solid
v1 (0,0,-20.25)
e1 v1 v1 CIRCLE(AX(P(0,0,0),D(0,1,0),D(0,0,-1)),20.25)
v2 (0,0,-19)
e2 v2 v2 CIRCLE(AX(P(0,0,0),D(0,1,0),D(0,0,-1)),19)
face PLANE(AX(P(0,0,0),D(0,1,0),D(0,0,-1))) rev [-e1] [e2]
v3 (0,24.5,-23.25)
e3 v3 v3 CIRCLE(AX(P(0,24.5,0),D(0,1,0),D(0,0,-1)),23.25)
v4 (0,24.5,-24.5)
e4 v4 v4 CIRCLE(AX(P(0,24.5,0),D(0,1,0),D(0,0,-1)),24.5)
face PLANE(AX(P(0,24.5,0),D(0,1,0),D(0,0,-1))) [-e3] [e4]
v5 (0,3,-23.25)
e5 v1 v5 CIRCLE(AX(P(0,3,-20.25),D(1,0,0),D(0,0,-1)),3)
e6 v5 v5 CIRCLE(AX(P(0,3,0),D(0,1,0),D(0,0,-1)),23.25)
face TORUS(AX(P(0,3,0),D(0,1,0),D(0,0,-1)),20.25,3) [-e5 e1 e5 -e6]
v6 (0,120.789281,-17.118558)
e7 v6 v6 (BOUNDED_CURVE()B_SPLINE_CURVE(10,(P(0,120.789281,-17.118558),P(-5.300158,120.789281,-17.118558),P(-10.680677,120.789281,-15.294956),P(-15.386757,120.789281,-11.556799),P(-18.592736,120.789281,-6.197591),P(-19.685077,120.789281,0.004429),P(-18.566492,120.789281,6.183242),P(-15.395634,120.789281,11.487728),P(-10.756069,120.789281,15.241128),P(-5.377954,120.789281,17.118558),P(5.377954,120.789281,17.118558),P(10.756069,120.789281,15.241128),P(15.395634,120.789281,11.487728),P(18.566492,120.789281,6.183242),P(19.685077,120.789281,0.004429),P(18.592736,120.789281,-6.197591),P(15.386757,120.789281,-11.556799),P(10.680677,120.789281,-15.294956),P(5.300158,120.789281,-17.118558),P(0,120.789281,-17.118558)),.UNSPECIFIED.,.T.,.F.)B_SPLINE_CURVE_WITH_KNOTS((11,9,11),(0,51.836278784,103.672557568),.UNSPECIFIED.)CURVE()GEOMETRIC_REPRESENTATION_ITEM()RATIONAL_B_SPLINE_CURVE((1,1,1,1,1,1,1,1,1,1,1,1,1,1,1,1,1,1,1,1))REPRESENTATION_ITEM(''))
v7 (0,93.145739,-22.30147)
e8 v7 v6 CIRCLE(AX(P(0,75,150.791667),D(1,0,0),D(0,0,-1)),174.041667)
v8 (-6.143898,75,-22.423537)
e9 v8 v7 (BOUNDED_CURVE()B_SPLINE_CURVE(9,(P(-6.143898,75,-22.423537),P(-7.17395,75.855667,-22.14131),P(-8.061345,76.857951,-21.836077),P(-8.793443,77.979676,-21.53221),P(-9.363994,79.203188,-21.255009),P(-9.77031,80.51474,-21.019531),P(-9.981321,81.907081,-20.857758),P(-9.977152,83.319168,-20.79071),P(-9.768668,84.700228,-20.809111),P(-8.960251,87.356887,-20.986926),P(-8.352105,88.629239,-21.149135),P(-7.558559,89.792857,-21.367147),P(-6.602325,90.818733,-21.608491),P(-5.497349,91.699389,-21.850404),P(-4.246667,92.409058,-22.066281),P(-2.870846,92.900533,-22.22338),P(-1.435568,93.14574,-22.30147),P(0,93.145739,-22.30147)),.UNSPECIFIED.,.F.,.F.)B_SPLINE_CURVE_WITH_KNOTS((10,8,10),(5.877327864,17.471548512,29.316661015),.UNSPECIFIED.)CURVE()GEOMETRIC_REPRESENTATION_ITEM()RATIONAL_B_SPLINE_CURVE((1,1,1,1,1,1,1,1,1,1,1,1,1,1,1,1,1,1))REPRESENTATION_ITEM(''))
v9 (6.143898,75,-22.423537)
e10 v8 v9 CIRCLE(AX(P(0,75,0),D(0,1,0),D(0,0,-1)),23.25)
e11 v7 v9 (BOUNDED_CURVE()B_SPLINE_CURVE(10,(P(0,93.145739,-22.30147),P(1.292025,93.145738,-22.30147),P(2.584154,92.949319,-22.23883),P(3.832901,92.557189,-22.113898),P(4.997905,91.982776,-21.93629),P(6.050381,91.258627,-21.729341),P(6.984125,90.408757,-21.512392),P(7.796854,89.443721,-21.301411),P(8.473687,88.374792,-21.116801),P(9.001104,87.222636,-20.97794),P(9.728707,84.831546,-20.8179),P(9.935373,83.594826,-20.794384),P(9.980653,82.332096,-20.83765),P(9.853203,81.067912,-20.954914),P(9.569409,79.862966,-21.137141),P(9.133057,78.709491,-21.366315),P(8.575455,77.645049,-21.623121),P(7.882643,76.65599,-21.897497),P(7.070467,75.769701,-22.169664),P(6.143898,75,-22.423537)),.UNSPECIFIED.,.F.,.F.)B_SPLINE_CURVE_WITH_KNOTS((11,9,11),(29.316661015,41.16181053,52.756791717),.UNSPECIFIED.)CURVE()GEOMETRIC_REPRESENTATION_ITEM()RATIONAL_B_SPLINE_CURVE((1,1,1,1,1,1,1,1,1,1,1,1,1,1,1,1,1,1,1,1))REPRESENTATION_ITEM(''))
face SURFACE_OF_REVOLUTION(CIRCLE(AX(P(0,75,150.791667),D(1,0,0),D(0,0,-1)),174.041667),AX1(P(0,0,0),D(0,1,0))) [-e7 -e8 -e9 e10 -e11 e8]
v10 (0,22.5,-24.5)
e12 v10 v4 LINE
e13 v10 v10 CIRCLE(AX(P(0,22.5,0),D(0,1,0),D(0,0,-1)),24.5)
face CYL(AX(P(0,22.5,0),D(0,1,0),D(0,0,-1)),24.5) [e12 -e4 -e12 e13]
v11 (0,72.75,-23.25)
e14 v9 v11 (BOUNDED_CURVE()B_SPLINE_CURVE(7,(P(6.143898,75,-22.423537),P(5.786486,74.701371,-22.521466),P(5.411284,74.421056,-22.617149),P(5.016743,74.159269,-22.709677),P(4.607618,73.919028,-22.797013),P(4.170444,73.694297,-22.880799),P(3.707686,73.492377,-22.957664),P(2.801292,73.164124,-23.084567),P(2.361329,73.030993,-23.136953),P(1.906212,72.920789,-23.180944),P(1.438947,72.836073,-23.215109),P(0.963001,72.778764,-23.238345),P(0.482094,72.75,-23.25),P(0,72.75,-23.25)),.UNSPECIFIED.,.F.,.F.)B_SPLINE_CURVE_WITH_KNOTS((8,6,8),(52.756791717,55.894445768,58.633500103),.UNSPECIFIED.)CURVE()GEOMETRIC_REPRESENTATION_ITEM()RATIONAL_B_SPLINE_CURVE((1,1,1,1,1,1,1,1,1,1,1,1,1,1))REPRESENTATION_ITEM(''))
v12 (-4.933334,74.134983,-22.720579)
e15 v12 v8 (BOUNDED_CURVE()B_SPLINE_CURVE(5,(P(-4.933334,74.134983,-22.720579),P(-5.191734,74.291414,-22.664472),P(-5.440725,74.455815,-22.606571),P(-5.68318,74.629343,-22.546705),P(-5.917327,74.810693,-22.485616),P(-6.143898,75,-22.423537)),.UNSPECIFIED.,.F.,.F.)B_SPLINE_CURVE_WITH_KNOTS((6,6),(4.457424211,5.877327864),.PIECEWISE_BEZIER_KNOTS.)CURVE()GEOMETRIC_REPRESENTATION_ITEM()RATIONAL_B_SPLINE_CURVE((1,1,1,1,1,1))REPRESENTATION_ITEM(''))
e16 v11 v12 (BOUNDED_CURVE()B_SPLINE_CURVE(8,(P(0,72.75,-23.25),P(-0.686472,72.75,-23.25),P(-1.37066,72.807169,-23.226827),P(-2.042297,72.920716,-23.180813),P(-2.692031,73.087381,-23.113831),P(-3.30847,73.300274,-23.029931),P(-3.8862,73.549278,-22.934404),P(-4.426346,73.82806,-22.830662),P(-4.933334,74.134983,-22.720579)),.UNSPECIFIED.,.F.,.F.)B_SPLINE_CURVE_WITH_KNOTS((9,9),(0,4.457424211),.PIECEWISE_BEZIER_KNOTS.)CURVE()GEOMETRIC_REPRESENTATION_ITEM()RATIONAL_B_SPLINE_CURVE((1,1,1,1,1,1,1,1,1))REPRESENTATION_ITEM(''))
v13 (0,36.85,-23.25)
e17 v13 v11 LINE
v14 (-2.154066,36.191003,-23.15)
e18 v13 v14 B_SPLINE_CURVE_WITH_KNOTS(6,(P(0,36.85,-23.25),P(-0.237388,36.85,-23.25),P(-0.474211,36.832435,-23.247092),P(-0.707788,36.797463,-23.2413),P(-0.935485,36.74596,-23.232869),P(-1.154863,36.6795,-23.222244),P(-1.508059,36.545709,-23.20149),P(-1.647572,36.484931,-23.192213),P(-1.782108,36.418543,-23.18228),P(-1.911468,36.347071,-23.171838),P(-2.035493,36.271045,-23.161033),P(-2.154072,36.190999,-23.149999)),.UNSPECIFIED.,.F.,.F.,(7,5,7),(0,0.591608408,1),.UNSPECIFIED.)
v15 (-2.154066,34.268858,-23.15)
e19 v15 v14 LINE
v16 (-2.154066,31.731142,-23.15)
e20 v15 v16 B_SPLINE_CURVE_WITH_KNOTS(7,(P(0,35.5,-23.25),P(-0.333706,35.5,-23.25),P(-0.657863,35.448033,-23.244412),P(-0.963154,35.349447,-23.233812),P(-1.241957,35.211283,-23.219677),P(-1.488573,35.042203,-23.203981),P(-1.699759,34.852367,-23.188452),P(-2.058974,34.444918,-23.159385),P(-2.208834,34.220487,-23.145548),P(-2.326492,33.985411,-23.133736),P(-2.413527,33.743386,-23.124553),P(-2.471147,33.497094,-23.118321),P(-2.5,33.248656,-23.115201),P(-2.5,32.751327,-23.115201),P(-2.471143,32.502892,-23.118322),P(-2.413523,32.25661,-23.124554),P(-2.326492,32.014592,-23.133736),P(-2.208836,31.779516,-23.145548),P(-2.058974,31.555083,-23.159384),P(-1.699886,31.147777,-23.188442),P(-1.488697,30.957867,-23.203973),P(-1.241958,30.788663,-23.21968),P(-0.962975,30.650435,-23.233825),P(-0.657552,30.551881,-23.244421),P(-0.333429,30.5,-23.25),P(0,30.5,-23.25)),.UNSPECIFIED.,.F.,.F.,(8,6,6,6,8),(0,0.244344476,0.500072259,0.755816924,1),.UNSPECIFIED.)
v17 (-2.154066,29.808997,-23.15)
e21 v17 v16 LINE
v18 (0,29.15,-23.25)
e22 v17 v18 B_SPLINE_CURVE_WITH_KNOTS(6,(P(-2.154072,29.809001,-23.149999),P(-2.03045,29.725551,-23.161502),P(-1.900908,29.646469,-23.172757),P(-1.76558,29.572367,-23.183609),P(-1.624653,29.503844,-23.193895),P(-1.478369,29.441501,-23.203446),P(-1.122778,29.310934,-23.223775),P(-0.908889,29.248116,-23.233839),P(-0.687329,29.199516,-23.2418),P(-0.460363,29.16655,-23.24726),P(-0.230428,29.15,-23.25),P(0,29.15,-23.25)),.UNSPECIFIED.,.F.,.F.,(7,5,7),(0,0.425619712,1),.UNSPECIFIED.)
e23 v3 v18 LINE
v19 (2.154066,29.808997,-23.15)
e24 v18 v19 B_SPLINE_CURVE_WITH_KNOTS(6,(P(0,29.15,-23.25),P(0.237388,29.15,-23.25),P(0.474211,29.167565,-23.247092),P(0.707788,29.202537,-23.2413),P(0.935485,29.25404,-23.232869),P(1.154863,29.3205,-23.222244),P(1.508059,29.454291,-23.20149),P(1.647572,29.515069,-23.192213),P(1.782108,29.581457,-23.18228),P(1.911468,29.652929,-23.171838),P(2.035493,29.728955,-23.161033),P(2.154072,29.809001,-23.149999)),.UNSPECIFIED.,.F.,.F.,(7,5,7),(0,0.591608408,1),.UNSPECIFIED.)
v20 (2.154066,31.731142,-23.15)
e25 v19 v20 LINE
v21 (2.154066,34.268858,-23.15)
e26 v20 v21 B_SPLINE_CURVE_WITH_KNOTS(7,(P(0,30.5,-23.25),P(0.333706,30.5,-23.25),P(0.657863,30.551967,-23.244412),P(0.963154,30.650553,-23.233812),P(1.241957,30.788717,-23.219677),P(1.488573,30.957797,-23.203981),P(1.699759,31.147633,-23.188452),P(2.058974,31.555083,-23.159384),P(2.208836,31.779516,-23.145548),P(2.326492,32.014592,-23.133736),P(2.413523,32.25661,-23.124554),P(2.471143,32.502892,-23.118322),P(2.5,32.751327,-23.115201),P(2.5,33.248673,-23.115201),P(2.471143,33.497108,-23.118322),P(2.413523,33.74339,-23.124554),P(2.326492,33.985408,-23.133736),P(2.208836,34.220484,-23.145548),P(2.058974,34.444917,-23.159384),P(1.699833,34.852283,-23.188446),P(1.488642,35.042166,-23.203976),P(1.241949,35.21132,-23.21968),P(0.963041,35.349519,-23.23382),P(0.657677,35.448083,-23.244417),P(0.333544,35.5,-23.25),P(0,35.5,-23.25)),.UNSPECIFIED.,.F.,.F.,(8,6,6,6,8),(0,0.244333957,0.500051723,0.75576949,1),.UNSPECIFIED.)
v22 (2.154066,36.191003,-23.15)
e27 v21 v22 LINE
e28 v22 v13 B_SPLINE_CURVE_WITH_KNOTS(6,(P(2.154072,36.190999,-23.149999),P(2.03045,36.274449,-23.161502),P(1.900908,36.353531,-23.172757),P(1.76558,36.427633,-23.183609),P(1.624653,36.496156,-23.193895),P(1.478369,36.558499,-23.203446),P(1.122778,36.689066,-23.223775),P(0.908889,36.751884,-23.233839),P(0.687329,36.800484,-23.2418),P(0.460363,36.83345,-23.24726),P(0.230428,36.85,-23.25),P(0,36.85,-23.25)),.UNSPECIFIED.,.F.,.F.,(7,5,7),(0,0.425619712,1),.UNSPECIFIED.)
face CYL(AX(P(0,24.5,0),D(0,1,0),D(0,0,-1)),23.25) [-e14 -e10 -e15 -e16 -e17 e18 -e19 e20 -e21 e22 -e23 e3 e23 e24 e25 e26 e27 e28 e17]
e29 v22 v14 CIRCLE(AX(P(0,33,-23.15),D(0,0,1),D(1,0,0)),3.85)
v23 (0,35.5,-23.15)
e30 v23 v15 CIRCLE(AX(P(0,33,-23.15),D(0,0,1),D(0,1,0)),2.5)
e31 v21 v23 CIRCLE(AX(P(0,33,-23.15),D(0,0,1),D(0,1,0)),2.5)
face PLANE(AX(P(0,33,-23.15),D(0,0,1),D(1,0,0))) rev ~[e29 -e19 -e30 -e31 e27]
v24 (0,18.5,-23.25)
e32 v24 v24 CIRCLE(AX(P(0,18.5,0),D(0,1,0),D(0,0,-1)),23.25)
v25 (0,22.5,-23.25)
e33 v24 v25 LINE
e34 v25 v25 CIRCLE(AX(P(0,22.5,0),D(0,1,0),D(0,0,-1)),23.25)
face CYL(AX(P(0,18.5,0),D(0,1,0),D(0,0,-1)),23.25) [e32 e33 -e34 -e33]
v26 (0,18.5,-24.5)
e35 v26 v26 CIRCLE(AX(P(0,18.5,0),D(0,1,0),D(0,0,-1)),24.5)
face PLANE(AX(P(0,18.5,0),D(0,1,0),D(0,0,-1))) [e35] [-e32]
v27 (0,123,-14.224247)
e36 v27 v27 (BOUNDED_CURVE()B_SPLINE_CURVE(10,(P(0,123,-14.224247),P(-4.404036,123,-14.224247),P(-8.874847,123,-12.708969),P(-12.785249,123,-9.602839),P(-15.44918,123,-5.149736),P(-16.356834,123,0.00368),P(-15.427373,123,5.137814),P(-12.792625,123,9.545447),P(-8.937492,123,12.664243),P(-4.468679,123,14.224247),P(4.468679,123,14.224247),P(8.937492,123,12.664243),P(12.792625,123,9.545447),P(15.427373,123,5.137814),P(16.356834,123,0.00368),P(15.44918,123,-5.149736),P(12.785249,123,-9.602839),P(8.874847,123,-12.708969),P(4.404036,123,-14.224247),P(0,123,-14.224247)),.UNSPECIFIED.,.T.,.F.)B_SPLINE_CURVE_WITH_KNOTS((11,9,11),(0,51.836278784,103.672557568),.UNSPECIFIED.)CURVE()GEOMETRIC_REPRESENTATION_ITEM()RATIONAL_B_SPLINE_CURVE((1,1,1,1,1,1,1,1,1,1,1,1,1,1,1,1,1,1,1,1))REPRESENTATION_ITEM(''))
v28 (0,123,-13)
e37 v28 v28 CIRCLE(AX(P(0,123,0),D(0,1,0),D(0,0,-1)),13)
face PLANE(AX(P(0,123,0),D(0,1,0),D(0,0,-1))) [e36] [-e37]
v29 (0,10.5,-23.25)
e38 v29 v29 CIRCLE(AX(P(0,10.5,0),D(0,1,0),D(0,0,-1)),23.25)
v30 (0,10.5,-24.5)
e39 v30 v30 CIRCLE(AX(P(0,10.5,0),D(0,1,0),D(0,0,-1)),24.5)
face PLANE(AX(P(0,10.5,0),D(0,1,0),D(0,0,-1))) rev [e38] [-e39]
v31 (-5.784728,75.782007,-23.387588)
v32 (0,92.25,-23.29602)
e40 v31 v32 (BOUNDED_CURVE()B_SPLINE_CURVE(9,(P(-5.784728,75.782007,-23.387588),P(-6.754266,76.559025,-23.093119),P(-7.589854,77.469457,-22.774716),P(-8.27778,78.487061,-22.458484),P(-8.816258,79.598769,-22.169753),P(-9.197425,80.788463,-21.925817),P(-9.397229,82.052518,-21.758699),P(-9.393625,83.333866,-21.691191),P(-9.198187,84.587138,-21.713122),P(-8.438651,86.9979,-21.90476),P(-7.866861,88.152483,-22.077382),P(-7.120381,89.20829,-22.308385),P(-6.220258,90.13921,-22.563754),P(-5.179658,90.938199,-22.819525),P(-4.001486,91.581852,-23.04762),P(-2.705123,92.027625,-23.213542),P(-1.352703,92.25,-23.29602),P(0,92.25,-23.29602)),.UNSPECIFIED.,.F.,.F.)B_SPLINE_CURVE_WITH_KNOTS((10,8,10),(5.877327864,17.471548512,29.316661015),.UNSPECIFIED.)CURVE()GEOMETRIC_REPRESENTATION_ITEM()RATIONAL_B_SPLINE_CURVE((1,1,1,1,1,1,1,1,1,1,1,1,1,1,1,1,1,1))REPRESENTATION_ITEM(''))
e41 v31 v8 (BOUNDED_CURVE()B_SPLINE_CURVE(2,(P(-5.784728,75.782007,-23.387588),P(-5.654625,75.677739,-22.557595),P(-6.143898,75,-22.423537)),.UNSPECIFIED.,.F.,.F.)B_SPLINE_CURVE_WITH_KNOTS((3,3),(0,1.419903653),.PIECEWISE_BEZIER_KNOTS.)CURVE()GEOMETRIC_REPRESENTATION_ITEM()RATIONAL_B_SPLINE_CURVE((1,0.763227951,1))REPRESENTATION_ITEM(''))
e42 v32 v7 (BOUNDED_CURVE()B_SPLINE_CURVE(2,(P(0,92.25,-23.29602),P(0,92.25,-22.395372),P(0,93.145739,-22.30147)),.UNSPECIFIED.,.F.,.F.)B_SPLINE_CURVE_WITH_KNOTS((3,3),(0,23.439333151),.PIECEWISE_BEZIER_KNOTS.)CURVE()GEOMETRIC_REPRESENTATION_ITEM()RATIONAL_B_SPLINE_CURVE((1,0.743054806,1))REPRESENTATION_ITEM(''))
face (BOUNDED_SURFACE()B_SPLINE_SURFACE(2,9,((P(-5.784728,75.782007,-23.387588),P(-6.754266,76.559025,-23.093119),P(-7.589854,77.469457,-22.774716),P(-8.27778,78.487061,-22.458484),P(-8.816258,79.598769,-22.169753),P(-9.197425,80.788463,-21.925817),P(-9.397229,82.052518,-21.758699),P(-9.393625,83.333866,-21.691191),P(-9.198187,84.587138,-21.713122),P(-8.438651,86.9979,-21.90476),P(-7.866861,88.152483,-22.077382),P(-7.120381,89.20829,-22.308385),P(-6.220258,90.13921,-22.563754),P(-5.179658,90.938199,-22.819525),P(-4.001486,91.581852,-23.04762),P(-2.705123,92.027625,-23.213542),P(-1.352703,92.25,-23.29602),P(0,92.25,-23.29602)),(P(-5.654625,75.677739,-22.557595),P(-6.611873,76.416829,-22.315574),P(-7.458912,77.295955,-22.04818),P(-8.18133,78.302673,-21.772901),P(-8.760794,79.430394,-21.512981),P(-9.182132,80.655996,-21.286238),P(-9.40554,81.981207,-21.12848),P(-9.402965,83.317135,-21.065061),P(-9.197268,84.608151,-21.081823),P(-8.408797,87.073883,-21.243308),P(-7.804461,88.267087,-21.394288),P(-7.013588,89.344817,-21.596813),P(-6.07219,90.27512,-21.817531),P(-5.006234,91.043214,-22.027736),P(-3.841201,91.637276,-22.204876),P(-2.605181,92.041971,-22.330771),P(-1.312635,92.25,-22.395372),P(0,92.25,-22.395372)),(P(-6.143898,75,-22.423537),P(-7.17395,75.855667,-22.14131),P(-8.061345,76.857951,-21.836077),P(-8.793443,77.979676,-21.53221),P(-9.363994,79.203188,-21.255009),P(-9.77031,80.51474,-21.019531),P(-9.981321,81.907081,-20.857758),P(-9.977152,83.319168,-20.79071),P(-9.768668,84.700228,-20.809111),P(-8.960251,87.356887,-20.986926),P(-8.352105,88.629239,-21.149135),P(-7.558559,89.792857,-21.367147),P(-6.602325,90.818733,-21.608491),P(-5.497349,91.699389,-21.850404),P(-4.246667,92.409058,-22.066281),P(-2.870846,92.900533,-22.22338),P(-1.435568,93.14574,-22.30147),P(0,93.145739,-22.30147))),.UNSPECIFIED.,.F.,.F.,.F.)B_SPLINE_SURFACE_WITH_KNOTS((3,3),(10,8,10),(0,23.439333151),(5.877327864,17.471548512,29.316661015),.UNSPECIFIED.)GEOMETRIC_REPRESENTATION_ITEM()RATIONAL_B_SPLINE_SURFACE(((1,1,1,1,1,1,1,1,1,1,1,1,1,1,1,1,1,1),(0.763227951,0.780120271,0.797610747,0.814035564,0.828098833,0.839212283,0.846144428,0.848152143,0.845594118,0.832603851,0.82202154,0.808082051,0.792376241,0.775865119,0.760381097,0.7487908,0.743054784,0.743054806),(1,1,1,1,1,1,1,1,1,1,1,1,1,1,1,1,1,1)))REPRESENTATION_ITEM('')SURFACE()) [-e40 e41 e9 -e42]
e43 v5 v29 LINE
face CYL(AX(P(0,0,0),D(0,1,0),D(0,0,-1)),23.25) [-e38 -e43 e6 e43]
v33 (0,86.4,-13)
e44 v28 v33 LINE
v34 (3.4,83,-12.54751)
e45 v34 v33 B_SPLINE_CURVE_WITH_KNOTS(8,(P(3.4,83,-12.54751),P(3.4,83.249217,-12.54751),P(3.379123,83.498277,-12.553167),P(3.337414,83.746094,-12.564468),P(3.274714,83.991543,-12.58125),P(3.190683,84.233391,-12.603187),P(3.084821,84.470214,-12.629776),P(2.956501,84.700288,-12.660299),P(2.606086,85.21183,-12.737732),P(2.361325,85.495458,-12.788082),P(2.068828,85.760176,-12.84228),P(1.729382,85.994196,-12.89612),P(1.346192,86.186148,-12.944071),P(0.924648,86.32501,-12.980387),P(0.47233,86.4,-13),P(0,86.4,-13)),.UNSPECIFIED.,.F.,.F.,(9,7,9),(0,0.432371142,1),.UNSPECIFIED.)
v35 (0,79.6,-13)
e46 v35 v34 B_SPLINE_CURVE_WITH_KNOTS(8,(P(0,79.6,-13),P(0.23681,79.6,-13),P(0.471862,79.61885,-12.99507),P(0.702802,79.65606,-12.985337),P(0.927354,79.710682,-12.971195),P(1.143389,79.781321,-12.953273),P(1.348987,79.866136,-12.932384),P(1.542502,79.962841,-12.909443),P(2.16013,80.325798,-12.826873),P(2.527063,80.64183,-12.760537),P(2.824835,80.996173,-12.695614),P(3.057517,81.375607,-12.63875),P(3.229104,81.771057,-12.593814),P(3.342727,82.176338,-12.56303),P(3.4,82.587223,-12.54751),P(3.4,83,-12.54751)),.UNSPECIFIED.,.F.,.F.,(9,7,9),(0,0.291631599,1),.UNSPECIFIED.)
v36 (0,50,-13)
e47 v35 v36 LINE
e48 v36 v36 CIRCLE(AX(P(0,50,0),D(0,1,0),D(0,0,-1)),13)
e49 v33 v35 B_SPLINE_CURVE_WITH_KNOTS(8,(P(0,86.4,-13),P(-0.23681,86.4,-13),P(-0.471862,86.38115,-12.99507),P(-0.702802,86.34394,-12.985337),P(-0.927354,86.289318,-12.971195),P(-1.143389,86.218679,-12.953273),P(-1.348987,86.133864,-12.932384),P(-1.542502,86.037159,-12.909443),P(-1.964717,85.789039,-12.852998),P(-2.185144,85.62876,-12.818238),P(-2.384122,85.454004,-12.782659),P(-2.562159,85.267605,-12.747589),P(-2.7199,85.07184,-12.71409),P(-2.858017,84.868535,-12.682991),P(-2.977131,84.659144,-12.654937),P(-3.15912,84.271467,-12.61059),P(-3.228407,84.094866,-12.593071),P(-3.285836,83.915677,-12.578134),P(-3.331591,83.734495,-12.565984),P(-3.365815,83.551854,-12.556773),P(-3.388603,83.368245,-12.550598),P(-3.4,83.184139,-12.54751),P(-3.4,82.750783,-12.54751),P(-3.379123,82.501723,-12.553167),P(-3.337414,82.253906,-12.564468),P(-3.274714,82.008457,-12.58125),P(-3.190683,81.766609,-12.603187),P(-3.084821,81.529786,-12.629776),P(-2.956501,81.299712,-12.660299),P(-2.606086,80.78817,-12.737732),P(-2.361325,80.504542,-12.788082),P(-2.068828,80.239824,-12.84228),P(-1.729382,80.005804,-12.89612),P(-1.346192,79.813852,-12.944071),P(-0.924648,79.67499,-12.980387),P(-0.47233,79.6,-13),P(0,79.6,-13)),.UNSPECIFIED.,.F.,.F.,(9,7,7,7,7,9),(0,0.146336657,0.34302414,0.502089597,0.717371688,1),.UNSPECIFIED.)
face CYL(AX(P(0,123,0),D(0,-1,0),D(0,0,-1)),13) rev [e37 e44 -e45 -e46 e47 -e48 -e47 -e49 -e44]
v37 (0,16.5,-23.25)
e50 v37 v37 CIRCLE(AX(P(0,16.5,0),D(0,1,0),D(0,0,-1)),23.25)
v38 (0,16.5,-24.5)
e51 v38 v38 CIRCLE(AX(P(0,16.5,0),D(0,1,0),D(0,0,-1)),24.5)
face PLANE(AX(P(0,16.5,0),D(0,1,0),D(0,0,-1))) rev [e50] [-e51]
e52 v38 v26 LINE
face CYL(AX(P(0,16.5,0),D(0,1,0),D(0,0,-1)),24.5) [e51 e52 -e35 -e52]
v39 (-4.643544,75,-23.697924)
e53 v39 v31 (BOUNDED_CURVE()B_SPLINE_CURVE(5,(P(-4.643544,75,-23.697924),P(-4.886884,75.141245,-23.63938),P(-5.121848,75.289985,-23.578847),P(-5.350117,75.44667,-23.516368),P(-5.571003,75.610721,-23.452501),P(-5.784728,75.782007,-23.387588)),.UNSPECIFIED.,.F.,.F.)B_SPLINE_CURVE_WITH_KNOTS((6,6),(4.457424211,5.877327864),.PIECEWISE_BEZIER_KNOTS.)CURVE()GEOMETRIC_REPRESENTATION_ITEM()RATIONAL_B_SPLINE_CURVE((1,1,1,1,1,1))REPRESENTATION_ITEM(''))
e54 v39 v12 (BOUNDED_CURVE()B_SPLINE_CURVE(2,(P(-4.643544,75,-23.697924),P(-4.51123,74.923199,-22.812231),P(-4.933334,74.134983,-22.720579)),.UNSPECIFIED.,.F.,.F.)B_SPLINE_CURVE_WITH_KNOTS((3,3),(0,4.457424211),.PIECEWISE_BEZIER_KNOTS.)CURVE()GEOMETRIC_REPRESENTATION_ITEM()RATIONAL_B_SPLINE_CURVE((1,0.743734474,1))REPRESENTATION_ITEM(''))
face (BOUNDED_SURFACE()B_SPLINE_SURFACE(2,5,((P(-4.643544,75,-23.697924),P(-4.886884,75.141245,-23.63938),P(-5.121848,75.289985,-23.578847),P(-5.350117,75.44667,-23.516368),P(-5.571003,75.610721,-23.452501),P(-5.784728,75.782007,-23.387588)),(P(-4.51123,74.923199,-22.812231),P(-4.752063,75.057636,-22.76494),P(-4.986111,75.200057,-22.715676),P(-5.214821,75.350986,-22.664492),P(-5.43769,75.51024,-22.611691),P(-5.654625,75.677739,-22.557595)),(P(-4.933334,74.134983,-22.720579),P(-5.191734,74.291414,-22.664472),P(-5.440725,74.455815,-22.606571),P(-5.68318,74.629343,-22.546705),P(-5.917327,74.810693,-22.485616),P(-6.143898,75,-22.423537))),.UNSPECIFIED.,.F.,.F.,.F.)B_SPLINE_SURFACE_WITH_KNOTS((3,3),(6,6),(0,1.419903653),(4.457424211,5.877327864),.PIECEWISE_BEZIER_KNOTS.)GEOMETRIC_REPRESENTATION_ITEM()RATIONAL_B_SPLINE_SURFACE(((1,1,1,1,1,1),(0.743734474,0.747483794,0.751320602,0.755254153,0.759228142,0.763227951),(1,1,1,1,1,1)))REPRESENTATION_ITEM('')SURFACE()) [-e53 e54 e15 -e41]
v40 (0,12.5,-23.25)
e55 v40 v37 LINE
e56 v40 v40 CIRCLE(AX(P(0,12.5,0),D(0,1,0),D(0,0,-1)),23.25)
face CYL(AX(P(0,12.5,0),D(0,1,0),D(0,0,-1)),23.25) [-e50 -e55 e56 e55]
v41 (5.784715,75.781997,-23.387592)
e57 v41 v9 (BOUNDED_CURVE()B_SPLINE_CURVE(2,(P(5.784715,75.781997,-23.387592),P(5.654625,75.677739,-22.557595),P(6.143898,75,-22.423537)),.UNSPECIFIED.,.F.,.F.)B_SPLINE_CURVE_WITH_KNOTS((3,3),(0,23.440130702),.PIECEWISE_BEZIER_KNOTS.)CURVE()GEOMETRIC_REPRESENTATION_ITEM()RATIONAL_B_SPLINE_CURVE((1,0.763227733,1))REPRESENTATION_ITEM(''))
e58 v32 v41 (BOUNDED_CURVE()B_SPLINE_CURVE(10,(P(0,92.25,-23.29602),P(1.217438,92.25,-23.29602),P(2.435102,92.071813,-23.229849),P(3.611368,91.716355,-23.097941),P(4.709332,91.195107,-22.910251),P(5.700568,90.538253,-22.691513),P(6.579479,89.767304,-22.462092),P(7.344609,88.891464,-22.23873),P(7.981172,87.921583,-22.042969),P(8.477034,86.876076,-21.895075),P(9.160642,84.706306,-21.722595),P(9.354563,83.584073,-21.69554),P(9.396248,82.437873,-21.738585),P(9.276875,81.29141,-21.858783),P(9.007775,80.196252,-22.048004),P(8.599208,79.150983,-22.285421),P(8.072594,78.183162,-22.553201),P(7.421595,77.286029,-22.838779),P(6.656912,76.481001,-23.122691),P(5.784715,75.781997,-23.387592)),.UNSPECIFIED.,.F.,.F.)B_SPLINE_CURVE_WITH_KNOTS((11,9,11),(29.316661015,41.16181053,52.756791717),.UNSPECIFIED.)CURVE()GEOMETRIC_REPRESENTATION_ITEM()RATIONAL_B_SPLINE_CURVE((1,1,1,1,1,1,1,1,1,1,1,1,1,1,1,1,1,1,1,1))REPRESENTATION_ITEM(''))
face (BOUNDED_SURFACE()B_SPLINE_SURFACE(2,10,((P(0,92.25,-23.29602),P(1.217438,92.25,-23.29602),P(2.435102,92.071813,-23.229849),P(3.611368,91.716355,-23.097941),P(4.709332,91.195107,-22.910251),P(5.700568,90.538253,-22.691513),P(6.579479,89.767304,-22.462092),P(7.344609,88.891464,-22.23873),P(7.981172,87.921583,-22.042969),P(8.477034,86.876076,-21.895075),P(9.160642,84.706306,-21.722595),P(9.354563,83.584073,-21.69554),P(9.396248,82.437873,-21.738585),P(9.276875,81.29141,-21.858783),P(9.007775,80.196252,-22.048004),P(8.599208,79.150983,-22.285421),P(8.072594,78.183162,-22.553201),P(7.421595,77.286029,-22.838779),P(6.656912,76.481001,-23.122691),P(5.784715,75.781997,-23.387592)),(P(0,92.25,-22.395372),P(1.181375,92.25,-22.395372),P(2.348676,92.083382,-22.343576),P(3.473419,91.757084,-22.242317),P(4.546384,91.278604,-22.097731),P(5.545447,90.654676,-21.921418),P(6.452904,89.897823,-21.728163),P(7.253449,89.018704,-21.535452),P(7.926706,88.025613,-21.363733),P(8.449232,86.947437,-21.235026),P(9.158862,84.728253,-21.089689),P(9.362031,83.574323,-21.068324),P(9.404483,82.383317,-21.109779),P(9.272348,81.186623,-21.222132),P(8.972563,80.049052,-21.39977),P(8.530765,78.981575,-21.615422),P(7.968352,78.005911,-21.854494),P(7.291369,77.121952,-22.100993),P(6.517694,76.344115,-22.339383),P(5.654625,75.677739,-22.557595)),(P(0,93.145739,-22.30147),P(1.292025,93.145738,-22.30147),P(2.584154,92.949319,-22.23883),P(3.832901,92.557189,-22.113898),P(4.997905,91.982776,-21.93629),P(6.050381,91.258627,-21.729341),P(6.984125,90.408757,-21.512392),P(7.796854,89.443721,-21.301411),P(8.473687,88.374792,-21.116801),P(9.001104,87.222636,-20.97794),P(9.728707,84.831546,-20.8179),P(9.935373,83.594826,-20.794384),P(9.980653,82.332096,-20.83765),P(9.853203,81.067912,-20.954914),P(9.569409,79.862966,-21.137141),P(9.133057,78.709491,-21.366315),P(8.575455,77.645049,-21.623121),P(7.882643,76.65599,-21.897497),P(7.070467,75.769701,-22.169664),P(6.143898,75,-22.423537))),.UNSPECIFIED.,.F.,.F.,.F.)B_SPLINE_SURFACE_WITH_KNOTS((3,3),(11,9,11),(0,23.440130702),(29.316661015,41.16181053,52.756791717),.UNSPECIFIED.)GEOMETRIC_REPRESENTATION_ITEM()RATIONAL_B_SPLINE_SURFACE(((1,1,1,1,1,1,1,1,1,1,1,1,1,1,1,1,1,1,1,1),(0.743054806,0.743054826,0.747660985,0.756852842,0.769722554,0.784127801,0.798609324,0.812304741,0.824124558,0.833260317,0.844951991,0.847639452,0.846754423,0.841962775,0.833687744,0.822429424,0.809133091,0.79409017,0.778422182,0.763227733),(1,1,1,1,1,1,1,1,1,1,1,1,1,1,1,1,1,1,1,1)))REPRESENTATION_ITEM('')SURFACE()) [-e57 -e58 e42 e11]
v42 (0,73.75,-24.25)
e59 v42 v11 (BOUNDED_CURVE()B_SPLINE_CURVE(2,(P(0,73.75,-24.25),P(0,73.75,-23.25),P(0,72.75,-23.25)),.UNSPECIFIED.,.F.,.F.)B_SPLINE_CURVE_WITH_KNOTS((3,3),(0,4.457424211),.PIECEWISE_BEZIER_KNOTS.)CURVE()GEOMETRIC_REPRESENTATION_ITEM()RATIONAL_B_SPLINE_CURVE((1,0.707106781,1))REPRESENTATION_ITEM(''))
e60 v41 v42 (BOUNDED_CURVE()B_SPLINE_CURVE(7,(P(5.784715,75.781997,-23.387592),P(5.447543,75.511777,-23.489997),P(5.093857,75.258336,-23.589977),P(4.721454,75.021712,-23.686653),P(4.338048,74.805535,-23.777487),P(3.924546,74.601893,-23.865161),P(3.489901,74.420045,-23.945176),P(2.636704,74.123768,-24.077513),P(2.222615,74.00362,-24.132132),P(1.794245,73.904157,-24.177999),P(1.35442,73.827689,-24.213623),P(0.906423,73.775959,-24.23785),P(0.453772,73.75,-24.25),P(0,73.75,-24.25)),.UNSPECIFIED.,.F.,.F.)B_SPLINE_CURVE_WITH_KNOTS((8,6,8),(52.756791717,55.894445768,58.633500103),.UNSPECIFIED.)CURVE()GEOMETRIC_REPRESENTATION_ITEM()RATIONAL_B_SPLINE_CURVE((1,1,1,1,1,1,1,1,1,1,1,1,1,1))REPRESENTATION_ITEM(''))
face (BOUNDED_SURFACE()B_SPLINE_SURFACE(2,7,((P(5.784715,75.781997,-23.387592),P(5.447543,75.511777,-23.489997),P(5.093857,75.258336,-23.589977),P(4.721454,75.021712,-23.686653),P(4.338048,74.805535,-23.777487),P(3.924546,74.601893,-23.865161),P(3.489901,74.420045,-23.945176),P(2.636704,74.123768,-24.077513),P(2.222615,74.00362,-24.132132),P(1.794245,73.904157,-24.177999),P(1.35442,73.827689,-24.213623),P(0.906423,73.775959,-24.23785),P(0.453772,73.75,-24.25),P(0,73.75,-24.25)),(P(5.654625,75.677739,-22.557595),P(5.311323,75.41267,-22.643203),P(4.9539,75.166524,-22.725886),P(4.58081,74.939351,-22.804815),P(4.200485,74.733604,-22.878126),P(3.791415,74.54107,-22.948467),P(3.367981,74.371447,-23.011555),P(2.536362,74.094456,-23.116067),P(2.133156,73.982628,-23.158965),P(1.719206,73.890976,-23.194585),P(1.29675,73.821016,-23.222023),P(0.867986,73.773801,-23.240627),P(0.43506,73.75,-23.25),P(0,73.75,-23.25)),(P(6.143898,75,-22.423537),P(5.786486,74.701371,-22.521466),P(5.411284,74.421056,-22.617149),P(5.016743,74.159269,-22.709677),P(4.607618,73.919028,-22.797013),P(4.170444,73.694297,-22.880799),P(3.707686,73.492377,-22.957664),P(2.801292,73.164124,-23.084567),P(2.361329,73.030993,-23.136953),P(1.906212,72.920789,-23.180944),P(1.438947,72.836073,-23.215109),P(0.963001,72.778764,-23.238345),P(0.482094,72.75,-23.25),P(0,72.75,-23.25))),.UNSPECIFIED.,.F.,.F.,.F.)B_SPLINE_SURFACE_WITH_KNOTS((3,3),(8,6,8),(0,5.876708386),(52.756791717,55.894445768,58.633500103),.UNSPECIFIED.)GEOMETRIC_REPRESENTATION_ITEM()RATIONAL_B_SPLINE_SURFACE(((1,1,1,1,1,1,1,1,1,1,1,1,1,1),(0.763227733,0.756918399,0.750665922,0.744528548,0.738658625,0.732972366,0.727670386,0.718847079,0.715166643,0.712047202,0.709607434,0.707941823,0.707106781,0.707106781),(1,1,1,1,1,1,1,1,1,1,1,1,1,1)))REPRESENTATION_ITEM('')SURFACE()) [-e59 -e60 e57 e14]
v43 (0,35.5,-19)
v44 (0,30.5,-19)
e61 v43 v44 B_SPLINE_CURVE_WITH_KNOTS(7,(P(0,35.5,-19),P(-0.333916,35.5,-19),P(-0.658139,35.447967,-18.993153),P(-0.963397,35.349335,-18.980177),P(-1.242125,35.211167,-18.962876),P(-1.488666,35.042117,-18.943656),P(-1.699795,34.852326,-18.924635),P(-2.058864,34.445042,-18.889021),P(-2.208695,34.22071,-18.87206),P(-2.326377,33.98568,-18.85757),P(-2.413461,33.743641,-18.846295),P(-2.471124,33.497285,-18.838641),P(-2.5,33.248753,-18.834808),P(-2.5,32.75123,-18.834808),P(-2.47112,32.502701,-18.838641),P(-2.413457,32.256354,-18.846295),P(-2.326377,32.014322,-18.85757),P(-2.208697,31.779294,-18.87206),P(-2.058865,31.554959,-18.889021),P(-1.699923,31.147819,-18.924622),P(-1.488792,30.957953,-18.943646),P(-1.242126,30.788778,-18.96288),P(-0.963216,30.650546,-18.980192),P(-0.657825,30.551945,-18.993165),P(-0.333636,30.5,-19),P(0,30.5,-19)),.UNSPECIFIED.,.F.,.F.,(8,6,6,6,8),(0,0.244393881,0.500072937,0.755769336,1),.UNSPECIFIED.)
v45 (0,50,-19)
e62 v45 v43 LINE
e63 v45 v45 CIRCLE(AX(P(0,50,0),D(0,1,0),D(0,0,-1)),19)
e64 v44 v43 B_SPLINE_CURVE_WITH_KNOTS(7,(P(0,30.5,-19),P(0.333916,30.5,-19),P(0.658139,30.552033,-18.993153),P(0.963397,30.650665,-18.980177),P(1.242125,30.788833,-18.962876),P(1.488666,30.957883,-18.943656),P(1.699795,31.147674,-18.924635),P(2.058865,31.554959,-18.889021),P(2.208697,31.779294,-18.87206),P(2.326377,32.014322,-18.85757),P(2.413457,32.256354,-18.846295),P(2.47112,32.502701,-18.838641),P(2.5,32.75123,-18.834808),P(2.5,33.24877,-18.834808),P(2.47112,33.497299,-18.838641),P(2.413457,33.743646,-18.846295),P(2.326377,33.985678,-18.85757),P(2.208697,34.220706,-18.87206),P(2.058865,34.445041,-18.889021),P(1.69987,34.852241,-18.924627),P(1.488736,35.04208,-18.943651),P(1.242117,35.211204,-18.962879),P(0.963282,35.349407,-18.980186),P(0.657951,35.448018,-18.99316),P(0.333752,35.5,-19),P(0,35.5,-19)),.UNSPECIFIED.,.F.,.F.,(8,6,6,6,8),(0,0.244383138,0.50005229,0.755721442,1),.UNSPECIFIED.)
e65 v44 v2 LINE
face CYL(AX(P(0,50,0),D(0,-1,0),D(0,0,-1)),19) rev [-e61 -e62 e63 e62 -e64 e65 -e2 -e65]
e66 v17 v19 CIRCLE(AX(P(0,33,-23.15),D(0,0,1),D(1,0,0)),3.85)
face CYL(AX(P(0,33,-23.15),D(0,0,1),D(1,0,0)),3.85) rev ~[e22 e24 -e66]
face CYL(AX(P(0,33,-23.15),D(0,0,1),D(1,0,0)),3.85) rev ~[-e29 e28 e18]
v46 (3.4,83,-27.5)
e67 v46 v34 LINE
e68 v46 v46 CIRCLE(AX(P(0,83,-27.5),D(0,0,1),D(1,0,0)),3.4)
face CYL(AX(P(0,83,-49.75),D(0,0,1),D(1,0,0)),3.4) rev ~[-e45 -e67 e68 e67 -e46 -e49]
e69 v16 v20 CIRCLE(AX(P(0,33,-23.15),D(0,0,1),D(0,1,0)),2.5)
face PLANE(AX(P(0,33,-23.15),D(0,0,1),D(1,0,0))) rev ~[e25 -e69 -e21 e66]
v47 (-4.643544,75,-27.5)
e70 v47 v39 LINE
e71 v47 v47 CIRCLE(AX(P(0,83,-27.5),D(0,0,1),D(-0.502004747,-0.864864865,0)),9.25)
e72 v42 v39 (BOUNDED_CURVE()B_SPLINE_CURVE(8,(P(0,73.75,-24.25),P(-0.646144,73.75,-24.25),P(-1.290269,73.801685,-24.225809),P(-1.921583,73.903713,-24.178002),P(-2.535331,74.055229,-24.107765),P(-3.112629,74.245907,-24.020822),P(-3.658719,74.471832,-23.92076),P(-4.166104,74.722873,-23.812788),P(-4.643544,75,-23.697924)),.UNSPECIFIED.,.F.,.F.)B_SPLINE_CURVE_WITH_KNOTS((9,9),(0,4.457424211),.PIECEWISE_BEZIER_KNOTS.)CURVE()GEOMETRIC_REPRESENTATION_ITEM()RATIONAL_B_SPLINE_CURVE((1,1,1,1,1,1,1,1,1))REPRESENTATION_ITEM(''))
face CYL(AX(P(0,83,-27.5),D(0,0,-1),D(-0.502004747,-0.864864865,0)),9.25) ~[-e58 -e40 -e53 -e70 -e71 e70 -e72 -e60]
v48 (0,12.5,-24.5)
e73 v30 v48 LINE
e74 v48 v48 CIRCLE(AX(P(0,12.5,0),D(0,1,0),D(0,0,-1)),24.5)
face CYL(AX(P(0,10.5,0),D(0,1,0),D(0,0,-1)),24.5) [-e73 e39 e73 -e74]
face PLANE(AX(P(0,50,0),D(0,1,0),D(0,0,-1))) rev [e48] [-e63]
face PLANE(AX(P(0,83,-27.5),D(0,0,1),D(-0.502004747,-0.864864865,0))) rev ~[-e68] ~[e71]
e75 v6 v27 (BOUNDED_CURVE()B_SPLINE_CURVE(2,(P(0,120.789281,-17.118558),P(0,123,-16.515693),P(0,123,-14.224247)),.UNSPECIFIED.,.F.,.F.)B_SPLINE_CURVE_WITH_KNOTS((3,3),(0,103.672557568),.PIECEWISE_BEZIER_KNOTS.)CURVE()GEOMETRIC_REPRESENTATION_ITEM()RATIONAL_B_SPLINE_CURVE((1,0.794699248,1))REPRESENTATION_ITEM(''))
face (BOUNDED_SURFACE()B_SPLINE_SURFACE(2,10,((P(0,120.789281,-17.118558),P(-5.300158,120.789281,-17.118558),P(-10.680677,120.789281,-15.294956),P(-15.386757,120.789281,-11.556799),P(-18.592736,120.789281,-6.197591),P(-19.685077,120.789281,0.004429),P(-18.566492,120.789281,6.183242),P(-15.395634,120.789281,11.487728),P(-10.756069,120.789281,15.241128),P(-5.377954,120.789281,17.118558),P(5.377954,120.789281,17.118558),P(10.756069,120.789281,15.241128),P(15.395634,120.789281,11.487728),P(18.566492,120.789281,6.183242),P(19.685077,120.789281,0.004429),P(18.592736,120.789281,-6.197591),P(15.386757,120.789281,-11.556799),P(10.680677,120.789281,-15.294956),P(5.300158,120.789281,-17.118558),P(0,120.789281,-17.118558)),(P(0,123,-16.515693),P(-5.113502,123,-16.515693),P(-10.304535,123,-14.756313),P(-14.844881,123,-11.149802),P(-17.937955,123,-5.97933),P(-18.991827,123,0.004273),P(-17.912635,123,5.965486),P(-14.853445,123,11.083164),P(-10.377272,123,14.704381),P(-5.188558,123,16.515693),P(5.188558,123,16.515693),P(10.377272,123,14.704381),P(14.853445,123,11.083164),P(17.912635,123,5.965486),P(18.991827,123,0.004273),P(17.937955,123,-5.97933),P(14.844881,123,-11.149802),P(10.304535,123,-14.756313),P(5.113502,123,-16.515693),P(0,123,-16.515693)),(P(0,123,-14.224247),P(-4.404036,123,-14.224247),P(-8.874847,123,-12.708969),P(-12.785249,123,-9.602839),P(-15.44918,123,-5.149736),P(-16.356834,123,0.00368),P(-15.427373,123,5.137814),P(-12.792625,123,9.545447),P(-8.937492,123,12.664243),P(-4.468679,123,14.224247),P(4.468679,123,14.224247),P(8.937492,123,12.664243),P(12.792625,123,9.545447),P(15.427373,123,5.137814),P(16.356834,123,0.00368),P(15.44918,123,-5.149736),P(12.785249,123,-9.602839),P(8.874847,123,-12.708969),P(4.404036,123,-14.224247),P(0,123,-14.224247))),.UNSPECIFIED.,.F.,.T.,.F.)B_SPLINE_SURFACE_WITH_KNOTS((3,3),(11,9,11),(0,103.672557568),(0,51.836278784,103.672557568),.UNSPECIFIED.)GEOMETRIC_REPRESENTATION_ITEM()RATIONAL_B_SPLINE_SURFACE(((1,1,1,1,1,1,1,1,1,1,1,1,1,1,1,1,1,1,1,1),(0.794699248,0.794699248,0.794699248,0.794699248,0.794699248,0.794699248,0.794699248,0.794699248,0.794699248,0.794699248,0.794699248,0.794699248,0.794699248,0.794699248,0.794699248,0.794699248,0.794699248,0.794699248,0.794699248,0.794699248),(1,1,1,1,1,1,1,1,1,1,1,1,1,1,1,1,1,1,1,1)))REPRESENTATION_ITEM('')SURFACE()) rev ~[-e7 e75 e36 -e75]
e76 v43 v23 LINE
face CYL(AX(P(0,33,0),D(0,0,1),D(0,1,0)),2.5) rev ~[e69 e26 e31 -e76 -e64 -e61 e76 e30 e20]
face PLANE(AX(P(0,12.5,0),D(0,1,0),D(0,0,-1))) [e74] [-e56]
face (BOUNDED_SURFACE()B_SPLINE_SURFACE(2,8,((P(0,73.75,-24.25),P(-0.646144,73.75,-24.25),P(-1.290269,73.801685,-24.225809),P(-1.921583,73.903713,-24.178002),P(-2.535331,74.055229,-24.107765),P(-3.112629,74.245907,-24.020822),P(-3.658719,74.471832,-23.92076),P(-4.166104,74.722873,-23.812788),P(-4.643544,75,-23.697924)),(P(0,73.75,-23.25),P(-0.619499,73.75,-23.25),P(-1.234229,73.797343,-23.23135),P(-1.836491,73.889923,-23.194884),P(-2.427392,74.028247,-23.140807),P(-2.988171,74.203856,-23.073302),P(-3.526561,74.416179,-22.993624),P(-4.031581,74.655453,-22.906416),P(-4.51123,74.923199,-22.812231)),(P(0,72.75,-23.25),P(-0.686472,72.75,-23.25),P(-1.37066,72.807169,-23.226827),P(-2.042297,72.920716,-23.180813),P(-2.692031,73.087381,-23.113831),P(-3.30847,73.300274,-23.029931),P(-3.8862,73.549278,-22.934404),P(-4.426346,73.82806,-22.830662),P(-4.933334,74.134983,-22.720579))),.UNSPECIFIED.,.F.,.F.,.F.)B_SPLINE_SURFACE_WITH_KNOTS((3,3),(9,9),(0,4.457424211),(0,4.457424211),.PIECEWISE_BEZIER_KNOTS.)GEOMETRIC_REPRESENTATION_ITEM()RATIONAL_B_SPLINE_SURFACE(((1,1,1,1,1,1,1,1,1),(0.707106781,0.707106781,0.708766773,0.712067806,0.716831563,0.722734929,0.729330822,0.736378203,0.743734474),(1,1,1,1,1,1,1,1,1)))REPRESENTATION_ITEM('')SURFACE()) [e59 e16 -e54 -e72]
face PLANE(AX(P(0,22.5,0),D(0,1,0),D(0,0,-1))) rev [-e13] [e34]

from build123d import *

# Parameters (mm, degrees)
ESQUISSE2_R             = 2.5
ENL_V_MAT_EXTRU_1_DEPTH = 128.786932135
BOSS_EXTRU_1_REACH      = 137.769
ESQUISSE3_R             = 9.25
CONG_1_R                = 1
TROU_TARAUD_M81_D       = 6.8
TROU_TARAUD_M81_DEPTH   = 22.25
TROU_TARAUD_M81_TIP     = 2.042926105
CONG_2_R                = 3
CONG_3_R                = 3
ESQUISSE6_R             = 3.85
ENL_V_MAT_EXTRU_2_DEPTH = 135.163230897


with BuildPart() as part:
    # Esquisse1 → Révolution1 (revolve)
    with BuildSketch(Plane.XY, mode=Mode.PRIVATE) as r_volution1_sk:
        with BuildLine():
            Line((23.25, 0), (23.25, 10.5))
            Line((23.25, 10.5), (24.5, 10.5))
            Line((24.5, 10.5), (24.5, 12.5))
            Line((24.5, 12.5), (23.25, 12.5))
            Line((23.25, 12.5), (23.25, 16.5))
            Line((23.25, 16.5), (24.5, 16.5))
            Line((24.5, 16.5), (24.5, 18.5))
            Line((24.5, 18.5), (23.25, 18.5))
            Line((23.25, 18.5), (23.25, 22.5))
            Line((23.25, 22.5), (24.5, 22.5))
            Line((24.5, 22.5), (24.5, 24.5))
            Line((24.5, 24.5), (23.25, 24.5))
            Line((23.25, 24.5), (23.25, 75))
            ThreePointArc((23.25, 75), (21.554238742, 99.236142948), (16.5, 123))
            Line((16.5, 123), (13, 123))
            Line((13, 123), (13, 50))
            Line((13, 50), (19, 50))
            Line((19, 50), (19, 0))
            Line((19, 0), (23.25, 0))
        make_face()
    revolve(r_volution1_sk.sketch.rotate(Axis((0, 0, 0), (0, 1, 0)), 90), axis=Axis((0, 0, 0), (0, 1, 0)))

    # Esquisse2 → Enlèv. mat.-Extru.1 (cut, through all)
    with BuildSketch(Plane.XY):
        with Locations(Location((0, 33, 0), (0, 0, 90))):
            Circle(ESQUISSE2_R)
    extrude(amount=-ENL_V_MAT_EXTRU_1_DEPTH, mode=Mode.SUBTRACT)

    # Esquisse3 → Boss.-Extru.1 (add, up to next)
    with BuildSketch(Plane.XY.offset(-27.5), mode=Mode.PRIVATE) as boss_extru_1_sk1:
        with Locations(Location((0, 83, 0), (0, 0, 239.867278169))):
            Circle(ESQUISSE3_R)
    boss_extru_1_tool1 = extrude(boss_extru_1_sk1.sketch, amount=BOSS_EXTRU_1_REACH, mode=Mode.PRIVATE) - part.part
    add(boss_extru_1_tool1.solids().sort_by_distance((0, 83, -27.5))[0])

    # Congé1
    cong_1_edges = [part.edges().sort_by_distance(p)[0] for p in [
        (-2.414282864, 74.070624974, -23.124310546),
        (8.941696454, 85.36824064, -21.126535612),
    ]]
    fillet(cong_1_edges, radius=CONG_1_R)

    # Trou taraudé M81
    with Locations(Plane(origin=(0, 0, -27.5), x_dir=(-1, 0, 0), z_dir=(0, 0, -1))):
        with Locations((0, 83)):
            Hole(TROU_TARAUD_M81_D / 2, depth=TROU_TARAUD_M81_DEPTH)
            with Locations((0, 0, -(TROU_TARAUD_M81_DEPTH + TROU_TARAUD_M81_TIP / 2))):  # 118° drill point
                Cone(0, TROU_TARAUD_M81_D / 2, TROU_TARAUD_M81_TIP, mode=Mode.SUBTRACT)

    # Congé2
    cong_2_edges = [part.edges().sort_by_distance(p)[0] for p in [
        (0, 0, 23.25),
    ]]
    fillet(cong_2_edges, radius=CONG_2_R)

    # Congé3
    cong_3_edges = [part.edges().sort_by_distance(p)[0] for p in [
        (0, 123, 16.5),
    ]]
    fillet(cong_3_edges, radius=CONG_3_R)

    # Esquisse6 → Enlèv. mat.-Extru.2 (cut, through all)
    with BuildSketch(Plane.XY.offset(-23.15)):
        with Locations((0, 33)):
            Circle(ESQUISSE6_R)
    extrude(amount=-ENL_V_MAT_EXTRU_2_DEPTH, mode=Mode.SUBTRACT)


solid = part.part
